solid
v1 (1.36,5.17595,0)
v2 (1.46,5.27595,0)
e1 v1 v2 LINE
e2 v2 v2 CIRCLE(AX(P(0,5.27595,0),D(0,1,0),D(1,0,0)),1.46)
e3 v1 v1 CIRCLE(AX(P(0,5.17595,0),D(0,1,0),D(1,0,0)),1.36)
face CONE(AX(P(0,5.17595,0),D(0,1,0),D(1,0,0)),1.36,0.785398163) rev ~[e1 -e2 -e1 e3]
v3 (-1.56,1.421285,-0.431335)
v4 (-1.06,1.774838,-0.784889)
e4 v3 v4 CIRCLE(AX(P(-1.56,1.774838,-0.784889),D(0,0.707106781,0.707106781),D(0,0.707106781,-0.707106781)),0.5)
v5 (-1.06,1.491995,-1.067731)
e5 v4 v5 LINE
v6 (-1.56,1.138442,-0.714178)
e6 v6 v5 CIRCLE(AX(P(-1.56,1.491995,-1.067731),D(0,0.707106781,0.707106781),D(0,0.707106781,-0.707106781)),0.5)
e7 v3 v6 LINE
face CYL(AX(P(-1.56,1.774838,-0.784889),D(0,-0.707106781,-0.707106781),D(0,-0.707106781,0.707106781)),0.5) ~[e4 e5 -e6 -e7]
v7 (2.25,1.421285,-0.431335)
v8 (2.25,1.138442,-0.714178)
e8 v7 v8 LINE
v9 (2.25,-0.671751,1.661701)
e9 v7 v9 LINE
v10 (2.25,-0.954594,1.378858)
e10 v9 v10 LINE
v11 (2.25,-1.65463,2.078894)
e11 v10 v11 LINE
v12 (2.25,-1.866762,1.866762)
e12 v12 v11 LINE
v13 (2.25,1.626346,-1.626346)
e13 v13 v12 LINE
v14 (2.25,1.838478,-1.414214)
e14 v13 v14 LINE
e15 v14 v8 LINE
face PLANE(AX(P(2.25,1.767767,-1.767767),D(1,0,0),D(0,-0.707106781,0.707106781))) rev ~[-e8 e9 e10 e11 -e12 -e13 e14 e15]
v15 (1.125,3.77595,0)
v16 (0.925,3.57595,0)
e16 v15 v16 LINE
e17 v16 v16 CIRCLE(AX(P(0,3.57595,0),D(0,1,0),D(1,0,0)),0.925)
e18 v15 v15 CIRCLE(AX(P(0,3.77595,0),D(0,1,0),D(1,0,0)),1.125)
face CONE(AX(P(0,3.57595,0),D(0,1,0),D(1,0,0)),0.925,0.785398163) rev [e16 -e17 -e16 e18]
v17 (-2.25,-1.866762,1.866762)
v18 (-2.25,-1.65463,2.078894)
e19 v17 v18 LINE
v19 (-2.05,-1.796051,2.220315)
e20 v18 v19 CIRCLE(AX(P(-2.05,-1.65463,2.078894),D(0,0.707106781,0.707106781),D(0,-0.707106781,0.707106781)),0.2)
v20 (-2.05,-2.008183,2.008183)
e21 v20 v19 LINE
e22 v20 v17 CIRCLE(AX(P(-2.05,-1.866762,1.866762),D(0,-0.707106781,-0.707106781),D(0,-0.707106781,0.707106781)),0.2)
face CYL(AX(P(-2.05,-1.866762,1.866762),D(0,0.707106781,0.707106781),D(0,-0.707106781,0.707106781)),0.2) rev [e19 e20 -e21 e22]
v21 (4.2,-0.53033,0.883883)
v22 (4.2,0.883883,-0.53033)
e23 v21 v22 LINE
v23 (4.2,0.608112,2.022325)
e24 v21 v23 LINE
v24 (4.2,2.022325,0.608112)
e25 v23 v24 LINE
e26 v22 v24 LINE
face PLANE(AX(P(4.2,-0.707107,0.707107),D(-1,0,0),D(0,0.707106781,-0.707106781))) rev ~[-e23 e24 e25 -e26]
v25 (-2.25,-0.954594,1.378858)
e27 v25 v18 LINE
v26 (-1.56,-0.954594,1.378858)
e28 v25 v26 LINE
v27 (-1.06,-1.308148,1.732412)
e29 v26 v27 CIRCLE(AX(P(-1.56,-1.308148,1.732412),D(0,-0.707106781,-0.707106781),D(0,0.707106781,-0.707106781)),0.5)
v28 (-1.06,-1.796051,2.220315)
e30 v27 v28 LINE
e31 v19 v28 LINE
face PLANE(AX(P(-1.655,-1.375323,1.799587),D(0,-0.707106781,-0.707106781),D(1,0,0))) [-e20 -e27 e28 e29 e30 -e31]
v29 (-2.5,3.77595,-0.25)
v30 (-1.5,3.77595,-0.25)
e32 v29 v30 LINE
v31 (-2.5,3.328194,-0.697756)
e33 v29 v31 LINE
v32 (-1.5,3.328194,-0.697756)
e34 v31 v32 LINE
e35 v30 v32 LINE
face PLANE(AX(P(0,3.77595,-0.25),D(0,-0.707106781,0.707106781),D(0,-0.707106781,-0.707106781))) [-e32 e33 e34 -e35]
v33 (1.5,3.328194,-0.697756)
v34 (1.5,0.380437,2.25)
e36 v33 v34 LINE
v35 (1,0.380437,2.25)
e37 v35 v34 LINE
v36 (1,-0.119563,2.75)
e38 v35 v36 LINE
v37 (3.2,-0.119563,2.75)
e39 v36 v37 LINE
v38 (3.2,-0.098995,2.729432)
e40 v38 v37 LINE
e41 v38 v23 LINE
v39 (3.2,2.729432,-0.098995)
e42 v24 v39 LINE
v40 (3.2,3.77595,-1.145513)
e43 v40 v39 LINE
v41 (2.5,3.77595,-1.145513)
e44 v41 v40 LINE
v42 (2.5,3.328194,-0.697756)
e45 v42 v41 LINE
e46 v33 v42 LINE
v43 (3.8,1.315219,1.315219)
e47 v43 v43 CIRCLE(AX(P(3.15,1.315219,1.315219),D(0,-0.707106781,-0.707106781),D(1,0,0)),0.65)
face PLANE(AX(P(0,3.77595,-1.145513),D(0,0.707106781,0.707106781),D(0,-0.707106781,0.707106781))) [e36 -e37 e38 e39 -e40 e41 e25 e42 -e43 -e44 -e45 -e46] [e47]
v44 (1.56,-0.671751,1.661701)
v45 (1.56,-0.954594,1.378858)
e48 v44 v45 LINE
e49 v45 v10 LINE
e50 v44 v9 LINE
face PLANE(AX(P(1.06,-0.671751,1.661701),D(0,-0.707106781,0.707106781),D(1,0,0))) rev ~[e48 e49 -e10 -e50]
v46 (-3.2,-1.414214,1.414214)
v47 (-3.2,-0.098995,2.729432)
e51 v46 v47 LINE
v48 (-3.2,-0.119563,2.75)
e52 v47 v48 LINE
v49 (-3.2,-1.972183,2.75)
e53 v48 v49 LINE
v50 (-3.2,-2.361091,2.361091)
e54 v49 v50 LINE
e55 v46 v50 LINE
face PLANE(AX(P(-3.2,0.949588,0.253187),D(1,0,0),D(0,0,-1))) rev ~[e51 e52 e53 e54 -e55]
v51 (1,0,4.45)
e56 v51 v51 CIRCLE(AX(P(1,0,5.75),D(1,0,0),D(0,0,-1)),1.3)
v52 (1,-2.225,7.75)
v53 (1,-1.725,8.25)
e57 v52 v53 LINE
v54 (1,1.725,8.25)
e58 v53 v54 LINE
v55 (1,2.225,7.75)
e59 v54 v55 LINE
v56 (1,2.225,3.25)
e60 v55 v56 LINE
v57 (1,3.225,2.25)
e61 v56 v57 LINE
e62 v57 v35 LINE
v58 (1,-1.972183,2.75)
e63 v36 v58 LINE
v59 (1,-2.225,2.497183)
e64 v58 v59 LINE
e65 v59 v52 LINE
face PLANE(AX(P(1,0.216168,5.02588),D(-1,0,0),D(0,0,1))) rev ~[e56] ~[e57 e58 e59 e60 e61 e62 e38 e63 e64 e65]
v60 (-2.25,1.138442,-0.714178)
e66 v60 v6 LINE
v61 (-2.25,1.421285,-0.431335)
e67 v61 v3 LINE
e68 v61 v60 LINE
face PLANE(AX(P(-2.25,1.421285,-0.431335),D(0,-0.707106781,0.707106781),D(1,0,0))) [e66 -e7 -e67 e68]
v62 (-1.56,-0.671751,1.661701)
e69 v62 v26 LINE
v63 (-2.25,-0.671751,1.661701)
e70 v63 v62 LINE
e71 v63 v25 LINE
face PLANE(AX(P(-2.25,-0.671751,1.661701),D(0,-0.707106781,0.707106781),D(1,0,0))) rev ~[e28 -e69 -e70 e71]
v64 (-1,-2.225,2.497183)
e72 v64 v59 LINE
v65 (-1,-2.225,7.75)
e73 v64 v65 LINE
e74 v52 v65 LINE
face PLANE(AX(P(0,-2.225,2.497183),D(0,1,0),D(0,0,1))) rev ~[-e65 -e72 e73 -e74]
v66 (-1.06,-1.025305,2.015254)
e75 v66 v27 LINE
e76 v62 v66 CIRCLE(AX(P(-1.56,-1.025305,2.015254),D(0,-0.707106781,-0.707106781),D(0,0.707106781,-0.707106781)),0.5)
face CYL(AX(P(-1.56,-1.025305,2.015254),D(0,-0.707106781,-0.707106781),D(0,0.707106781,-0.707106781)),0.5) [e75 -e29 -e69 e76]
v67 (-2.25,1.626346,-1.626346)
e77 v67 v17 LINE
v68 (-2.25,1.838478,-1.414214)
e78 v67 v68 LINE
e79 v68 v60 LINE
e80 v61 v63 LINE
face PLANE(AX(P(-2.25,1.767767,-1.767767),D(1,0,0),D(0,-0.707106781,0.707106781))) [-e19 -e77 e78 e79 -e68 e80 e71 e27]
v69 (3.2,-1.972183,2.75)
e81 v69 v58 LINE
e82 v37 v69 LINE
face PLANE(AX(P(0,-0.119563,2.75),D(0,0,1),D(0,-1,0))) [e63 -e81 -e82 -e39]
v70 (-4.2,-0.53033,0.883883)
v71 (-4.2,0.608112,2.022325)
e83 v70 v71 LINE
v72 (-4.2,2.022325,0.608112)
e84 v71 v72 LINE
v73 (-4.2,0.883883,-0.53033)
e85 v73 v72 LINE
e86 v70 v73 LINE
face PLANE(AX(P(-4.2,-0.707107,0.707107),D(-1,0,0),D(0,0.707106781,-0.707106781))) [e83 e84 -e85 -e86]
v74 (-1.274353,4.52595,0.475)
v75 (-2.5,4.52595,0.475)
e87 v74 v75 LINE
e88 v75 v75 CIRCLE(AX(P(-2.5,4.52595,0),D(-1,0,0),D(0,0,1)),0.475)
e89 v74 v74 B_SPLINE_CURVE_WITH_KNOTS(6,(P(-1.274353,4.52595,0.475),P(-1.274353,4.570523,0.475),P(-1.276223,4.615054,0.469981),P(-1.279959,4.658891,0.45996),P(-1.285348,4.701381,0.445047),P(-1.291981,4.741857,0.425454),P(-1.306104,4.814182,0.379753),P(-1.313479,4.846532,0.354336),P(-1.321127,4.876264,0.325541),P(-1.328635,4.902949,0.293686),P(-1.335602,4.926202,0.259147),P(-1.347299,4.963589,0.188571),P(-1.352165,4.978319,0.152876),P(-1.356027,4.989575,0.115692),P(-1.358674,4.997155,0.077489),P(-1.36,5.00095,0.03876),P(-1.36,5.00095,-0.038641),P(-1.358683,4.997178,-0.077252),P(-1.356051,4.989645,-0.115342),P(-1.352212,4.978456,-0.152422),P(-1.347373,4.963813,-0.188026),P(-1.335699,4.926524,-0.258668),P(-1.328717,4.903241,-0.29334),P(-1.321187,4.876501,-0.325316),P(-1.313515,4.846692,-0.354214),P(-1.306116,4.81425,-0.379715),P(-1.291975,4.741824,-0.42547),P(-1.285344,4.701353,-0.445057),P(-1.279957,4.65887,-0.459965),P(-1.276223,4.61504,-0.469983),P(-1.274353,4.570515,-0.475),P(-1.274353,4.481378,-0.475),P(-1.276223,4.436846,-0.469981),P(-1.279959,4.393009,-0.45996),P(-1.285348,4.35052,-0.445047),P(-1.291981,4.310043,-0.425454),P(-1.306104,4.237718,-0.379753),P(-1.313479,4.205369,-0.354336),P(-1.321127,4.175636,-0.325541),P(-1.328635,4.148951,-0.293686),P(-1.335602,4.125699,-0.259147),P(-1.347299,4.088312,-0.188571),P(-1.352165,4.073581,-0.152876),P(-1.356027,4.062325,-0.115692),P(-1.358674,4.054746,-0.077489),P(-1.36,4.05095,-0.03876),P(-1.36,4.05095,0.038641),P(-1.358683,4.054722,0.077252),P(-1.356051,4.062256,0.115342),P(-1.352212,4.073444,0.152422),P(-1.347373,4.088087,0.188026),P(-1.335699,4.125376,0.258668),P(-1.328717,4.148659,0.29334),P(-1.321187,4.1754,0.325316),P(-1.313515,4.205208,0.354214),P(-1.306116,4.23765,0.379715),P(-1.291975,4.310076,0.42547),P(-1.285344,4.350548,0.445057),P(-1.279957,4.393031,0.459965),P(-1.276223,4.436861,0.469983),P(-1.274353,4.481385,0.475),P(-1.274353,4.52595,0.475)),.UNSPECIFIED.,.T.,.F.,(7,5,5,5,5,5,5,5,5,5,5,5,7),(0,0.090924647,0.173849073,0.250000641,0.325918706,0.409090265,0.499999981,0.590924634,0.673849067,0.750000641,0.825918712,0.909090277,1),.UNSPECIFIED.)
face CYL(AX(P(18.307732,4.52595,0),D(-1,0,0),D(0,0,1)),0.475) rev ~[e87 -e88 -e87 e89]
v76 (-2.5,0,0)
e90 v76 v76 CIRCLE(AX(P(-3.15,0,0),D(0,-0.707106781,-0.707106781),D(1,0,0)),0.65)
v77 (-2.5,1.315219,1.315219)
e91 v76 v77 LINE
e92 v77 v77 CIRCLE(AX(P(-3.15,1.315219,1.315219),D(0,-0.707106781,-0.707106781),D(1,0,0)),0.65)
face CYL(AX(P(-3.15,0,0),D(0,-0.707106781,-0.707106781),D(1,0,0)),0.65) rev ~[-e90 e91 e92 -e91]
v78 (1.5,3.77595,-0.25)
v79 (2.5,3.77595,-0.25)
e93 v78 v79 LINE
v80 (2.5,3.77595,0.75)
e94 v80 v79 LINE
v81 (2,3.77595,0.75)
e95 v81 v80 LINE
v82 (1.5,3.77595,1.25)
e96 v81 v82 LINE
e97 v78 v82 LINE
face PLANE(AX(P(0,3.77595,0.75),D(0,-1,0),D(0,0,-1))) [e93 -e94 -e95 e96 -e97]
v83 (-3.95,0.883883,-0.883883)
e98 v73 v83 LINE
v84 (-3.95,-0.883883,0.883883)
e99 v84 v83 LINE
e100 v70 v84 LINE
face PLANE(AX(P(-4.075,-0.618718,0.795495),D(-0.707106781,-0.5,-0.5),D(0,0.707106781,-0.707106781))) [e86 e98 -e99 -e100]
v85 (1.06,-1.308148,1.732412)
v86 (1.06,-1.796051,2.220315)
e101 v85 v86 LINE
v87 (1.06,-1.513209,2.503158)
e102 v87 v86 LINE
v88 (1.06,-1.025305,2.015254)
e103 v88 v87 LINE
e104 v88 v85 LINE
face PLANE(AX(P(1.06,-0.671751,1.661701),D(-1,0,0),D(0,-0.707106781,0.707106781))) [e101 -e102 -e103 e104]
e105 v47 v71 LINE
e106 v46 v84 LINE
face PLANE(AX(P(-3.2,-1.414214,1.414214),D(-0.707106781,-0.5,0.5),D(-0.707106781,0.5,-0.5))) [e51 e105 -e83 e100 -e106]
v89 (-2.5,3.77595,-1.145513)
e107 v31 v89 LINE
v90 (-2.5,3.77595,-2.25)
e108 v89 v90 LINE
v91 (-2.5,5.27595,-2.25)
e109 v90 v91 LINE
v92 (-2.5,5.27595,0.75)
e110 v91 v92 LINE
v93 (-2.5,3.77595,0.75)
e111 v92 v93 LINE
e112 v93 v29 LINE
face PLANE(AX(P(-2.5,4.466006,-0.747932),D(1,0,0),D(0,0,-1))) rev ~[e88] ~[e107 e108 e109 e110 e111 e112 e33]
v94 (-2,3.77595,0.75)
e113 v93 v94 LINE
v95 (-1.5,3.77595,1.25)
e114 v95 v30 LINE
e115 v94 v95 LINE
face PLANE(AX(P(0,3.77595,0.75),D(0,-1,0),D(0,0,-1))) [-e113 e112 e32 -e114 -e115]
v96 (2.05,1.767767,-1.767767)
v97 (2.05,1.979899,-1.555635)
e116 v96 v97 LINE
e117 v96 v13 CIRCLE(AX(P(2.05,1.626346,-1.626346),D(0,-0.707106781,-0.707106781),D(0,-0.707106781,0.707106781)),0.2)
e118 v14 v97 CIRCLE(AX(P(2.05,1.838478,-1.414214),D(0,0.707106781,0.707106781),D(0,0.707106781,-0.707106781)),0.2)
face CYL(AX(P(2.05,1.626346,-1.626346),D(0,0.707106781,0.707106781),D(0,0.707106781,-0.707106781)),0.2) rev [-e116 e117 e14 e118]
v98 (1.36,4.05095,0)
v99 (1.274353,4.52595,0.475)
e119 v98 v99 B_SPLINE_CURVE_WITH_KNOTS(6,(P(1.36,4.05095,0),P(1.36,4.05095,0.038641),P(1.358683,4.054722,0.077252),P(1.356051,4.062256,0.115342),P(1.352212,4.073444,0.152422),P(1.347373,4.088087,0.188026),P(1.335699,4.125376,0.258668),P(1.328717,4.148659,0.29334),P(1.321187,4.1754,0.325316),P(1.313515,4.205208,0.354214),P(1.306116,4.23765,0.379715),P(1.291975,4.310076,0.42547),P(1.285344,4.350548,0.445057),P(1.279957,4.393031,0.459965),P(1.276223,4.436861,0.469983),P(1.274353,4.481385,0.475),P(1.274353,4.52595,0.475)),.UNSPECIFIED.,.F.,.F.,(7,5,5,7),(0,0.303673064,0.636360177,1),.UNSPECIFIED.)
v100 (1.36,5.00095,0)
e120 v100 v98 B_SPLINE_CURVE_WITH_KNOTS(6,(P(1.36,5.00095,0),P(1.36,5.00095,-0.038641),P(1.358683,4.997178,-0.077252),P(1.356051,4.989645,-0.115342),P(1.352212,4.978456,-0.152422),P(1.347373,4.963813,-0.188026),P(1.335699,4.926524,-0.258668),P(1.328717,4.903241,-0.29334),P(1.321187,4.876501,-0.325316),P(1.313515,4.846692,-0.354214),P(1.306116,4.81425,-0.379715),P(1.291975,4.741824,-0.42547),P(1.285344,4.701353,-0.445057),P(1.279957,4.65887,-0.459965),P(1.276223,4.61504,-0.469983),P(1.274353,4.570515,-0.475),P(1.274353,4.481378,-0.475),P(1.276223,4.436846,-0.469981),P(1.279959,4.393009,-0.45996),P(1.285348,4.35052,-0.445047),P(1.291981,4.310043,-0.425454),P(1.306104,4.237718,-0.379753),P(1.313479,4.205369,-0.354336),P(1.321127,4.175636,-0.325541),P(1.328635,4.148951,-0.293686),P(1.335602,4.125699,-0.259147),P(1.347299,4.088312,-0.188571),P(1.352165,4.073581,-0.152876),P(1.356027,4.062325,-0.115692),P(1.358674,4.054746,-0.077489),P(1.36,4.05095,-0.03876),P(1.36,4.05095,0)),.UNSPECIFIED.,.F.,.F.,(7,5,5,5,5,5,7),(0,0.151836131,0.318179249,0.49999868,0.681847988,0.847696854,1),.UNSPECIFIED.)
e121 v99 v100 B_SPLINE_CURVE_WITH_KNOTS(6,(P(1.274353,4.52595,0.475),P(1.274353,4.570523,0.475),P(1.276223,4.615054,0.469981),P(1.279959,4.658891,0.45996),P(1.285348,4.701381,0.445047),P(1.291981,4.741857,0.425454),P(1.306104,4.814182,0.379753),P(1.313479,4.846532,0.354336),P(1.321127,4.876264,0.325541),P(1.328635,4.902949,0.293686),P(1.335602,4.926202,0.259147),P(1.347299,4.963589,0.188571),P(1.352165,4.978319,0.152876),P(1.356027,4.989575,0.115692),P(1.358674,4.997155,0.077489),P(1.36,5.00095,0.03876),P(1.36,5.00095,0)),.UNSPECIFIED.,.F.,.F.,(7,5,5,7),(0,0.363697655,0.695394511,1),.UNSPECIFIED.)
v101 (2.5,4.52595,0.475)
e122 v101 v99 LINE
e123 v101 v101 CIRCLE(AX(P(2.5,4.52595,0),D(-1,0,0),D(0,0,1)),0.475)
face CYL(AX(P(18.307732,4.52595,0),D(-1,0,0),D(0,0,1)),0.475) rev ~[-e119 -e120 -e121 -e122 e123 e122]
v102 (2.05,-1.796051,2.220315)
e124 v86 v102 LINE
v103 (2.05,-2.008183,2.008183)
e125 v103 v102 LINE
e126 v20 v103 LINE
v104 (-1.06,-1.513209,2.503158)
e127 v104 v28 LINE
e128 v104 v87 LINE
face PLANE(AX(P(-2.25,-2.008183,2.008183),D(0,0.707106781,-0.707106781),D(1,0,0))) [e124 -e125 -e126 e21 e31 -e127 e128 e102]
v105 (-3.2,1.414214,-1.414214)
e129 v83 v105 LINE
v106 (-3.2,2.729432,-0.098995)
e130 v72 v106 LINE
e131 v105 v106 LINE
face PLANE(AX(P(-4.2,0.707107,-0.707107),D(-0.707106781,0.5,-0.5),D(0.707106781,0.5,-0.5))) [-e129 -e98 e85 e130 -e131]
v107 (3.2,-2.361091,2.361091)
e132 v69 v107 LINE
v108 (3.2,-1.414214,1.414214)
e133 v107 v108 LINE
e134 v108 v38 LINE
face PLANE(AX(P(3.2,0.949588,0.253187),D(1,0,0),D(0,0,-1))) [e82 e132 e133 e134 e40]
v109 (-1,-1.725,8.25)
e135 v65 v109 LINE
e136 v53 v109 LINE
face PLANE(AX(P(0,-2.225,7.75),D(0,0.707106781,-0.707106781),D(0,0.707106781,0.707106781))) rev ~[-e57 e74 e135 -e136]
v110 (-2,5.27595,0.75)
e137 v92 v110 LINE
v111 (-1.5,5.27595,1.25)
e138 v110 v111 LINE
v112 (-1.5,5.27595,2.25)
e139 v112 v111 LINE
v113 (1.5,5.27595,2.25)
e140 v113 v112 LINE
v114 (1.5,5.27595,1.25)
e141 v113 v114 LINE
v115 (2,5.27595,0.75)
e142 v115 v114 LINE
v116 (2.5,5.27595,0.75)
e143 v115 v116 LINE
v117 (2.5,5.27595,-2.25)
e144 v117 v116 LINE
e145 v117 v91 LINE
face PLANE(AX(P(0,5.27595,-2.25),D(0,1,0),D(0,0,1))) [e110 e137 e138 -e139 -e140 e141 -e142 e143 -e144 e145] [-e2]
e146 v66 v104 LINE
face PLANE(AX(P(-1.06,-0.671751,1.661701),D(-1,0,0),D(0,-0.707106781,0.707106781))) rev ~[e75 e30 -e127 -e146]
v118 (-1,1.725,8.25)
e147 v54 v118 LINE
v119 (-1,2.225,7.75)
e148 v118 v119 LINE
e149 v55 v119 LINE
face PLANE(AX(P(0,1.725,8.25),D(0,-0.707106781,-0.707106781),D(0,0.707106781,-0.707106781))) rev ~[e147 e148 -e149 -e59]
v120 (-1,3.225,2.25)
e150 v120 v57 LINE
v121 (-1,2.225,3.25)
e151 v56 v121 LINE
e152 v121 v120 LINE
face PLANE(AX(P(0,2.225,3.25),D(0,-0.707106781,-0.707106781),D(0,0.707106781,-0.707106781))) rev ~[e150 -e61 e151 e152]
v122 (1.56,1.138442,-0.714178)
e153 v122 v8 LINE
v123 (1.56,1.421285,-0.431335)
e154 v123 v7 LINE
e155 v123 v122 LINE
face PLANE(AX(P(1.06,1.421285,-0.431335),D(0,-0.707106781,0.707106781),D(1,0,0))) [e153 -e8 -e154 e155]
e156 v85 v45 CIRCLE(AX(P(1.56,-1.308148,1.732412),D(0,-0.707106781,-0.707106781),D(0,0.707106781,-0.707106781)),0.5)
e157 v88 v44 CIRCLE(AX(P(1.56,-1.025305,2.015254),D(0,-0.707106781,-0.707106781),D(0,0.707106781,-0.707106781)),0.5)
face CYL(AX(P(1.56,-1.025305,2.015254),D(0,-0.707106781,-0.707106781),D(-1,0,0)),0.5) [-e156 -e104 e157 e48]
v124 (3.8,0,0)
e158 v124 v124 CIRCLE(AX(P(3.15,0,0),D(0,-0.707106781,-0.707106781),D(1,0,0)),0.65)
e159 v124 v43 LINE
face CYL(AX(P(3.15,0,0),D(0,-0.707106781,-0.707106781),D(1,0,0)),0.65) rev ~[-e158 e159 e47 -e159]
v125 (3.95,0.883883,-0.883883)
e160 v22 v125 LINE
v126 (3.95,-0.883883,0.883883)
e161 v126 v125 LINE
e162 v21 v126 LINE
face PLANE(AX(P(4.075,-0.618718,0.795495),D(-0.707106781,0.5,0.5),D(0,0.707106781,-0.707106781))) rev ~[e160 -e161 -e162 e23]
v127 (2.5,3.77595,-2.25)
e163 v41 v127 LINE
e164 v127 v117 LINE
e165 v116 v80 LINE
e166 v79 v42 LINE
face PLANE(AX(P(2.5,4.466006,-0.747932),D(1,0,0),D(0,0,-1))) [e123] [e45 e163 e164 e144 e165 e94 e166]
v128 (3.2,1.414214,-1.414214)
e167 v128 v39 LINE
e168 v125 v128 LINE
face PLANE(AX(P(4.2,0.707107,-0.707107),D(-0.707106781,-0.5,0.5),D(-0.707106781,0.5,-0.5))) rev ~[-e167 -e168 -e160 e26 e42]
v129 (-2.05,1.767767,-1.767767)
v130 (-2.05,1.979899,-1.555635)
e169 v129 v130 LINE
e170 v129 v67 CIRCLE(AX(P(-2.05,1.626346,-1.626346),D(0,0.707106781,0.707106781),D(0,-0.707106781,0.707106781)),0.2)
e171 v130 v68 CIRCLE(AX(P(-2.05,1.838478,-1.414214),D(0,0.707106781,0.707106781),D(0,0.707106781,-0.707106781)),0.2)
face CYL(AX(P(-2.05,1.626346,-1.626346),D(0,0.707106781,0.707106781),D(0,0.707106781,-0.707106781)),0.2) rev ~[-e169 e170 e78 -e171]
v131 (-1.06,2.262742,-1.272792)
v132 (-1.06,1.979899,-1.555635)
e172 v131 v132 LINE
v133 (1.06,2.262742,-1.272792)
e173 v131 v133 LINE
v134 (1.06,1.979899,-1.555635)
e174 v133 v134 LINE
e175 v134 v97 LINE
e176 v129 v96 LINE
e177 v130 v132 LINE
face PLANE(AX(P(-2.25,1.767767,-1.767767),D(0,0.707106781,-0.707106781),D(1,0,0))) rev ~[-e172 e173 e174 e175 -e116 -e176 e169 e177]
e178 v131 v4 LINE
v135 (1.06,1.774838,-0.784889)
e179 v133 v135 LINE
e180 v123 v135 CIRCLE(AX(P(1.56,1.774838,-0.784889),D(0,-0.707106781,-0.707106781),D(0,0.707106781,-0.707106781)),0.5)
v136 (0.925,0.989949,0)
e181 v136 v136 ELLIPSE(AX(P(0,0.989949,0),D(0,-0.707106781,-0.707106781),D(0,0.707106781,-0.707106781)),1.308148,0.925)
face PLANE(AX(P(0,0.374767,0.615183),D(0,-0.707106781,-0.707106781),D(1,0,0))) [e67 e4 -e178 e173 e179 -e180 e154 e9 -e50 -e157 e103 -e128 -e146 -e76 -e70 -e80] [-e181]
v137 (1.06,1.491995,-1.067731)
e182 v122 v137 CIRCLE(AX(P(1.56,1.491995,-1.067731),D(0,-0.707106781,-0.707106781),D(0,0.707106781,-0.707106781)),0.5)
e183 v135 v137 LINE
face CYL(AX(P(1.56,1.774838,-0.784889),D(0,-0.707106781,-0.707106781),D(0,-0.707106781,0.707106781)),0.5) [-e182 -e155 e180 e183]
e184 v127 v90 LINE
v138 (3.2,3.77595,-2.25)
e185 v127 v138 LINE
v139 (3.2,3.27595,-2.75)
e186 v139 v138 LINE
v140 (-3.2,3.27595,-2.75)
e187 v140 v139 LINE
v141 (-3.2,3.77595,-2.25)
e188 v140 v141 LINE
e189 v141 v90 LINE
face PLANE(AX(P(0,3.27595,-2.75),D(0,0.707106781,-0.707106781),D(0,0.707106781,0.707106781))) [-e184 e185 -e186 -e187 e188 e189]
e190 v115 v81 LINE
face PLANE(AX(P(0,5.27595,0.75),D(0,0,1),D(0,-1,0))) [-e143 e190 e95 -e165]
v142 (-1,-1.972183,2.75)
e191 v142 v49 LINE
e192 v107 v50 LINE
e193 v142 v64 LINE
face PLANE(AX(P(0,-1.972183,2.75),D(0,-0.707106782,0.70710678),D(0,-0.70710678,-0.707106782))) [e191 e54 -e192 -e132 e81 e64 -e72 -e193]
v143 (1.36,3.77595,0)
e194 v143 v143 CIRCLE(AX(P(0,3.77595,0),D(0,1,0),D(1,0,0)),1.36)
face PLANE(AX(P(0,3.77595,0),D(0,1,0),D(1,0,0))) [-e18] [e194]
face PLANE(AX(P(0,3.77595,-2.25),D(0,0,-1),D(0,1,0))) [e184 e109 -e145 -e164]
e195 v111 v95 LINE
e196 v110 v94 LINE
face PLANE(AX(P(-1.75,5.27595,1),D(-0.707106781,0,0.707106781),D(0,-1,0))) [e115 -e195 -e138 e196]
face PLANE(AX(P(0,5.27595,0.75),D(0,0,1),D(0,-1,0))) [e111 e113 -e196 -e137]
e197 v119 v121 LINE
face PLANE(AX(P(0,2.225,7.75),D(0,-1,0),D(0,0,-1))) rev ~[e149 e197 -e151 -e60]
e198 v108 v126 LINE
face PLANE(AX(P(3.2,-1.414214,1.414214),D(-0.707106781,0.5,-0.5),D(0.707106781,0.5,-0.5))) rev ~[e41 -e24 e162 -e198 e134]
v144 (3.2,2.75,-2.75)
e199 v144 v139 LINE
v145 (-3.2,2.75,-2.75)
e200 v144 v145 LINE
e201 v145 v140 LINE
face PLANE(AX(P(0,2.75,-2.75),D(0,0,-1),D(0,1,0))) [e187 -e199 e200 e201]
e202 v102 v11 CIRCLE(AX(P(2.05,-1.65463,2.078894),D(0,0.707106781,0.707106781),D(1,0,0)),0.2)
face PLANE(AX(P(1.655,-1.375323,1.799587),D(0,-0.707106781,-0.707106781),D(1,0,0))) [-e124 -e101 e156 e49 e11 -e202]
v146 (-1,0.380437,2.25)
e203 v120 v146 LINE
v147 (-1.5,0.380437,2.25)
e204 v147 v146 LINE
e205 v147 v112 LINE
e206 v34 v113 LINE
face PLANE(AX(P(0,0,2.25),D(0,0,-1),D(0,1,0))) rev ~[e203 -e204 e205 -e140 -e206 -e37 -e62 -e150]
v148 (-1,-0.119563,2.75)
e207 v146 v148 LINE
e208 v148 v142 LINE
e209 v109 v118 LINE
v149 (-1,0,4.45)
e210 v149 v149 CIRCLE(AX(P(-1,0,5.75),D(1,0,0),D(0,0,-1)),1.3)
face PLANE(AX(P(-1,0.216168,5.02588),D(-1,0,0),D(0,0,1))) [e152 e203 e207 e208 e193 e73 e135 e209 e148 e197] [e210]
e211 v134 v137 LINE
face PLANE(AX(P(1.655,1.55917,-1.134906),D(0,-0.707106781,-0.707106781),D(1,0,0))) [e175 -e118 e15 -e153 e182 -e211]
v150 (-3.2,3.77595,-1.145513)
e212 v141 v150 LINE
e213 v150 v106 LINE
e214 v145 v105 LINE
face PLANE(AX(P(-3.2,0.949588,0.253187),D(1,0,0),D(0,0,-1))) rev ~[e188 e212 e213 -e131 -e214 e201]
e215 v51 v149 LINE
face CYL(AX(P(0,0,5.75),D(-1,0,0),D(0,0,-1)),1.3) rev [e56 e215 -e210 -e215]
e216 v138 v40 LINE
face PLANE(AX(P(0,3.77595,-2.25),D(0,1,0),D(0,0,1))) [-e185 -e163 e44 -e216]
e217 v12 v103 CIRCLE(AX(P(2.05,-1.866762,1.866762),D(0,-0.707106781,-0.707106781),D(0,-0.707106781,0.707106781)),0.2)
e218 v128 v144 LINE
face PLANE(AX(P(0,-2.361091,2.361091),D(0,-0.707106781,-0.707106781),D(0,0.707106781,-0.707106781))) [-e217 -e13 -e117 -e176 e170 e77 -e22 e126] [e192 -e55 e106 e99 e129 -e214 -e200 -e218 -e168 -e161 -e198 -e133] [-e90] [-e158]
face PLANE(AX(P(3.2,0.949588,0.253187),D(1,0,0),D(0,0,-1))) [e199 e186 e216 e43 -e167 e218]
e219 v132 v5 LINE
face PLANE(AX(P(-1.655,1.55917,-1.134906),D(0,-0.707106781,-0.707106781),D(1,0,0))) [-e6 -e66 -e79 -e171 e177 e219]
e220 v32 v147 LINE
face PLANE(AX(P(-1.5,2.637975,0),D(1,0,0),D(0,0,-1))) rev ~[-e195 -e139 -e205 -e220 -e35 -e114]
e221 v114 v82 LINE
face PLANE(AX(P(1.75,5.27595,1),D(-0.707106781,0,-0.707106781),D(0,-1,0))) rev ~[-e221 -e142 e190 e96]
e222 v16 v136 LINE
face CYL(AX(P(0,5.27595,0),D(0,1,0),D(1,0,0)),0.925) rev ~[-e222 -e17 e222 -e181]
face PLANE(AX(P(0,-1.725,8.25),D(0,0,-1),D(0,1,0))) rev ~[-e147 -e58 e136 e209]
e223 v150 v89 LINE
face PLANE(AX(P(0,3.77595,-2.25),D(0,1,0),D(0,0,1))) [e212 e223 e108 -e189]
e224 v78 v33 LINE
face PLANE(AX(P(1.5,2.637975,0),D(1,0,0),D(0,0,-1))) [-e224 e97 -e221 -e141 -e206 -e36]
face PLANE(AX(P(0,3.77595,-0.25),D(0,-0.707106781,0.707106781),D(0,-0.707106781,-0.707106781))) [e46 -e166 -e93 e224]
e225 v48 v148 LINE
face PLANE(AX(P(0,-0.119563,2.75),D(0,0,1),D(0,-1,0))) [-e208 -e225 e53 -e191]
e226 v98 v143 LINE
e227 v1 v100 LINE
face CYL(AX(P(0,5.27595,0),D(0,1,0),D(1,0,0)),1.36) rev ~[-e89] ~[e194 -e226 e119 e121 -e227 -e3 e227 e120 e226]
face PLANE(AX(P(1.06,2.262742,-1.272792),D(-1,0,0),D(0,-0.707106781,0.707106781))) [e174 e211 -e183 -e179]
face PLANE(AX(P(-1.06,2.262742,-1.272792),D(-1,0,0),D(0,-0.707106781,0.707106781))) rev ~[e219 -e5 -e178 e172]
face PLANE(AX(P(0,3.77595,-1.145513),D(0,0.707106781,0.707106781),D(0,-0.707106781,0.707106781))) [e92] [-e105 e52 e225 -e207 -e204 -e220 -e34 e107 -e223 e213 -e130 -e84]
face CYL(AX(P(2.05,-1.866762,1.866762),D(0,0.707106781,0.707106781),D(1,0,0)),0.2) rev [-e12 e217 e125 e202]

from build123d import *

# Parameters (mm, degrees)
SKETCH2_W                = 4.5
SKETCH2_H                = 5.27595021
BOSS_EXTRUDE1_DEPTH      = 1.5
BOSS_EXTRUDE2_DEPTH      = 3.2
CUT_EXTRUDE1_DEPTH       = 7.4
SKETCH5_R                = 1.3
BOSS_EXTRUDE3_DEPTH      = 1
BOSS_EXTRUDE4_DEPTH      = 1.86
SKETCH7_R                = 0.65
CUT_EXTRUDE2_DEPTH       = 10.564291115
SKETCH8_W                = 4.5
SKETCH8_H                = 5.34
CUT_EXTRUDE3_DEPTH       = 0.7
FILLET1_R                = 0.2
SKETCH9_W                = 1.19
SKETCH9_H                = 1.19
BOSS_EXTRUDE5_DEPTH      = 0.4
FILLET2_R                = 0.5
BOSS_EXTRUDE6_DEPTH      = 2.5
SKETCH10_R               = 0.925
CUT_EXTRUDE4_DEPTH       = 1
CUT_EXTRUDE4_DEPTH_BACK  = 8.63704148
M1_2X0_25_TAPPED_HOLE1_D = 0.95
CHAMFER1_SIZE            = 0.5
SKETCH14_R               = 1.36
CUT_EXTRUDE5_DEPTH       = 1.5
CHAMFER2_SIZE            = 0.2
CHAMFER3_SIZE            = 0.1
CHAMFER4_SIZE            = 0.25


with BuildPart() as part:
    # Sketch2 → Boss-Extrude1 (new body, symmetric)
    with BuildSketch(Plane(origin=(0, 0, 0), x_dir=(0, 0, -1), z_dir=(1, 0, 0))):
        with Locations((0, 2.637975105)):
            Rectangle(SKETCH2_W, SKETCH2_H)
    extrude(amount=BOSS_EXTRUDE1_DEPTH, both=True)

    # Sketch3 → Boss-Extrude2 (add, symmetric)
    with BuildSketch(Plane(origin=(0, 0, 0), x_dir=(0, 0, -1), z_dir=(1, 0, 0))):
        Polygon((0, 0), (2.75, 2.75), (2.75, 3.27595021), (2.25, 3.77595021), (1.145512984, 3.77595021), (-2.75, -0.119562774), (-2.75, -1.972182541), (-2.36109127, -2.36109127), align=None)
    extrude(amount=BOSS_EXTRUDE2_DEPTH, both=True)

    # Sketch4 → Cut-Extrude1 (cut, through all)
    with BuildSketch(Plane(origin=(3.2, 0, 0), x_dir=(0, 0, -1), z_dir=(1, 0, 0))):
        Polygon((2.25, 2.25), (0, 0), (2.25, 0), align=None)
    extrude(amount=-CUT_EXTRUDE1_DEPTH, mode=Mode.SUBTRACT)

    # Sketch5 → Boss-Extrude3 (add, symmetric)
    with BuildSketch(Plane(origin=(0, 0, 0), x_dir=(0, 0, -1), z_dir=(1, 0, 0))):
        Polygon((-2.497182541, -2.225), (-7.75, -2.225), (-8.25, -1.725), (-8.25, 1.725), (-7.75, 2.225), (-3.25, 2.225), (-2.25, 3.225), (-2.25, 0.380437226), (-2.75, -0.119562774), (-2.75, -1.972182541), align=None)
        with Locations((-5.75, 0)):
            Circle(SKETCH5_R, mode=Mode.SUBTRACT)
    extrude(amount=BOSS_EXTRUDE3_DEPTH, both=True)

    # Sketch6 → Boss-Extrude4 (add)
    with BuildSketch(Plane(origin=(0, 0, 0), x_dir=(1, 0, 0), z_dir=(0, -0.707106781, -0.707106781))):
        Polygon((-3.2, 2), (-4.2, 1), (-4.2, -1), (-3.2, -2), align=None)
        Polygon((3.2, -2), (3.2, 2), (4.2, 1), (4.2, -1), align=None)
    extrude(amount=-BOSS_EXTRUDE4_DEPTH)

    # Sketch7 → Cut-Extrude2 (cut, through all)
    with BuildSketch(Plane(origin=(0, 0, 0), x_dir=(1, 0, 0), z_dir=(0, -0.707106781, -0.707106781))):
        with Locations((-3.15, 0)):
            Circle(SKETCH7_R)
        with Locations((3.15, 0)):
            Circle(SKETCH7_R)
    extrude(amount=-CUT_EXTRUDE2_DEPTH, mode=Mode.SUBTRACT)

    # Sketch8 → Cut-Extrude3 (cut)
    with BuildSketch(Plane(origin=(0, 0, 0), x_dir=(1, 0, 0), z_dir=(0, -0.707106781, -0.707106781))):
        with Locations((0, 0.17)):
            Rectangle(SKETCH8_W, SKETCH8_H)
    extrude(amount=-CUT_EXTRUDE3_DEPTH, mode=Mode.SUBTRACT)

    # Fillet1
    fillet1_edges = [part.edges().sort_by_distance(p)[0] for p in [
        (-2.25, 2.015254326, -1.52027958),
        (-2.25, -1.760695885, 2.255670632),
        (2.25, -1.760695885, 2.255670632),
        (2.25, 2.015254326, -1.52027958),
    ]]
    fillet(fillet1_edges, radius=FILLET1_R)

    # Sketch9 → Boss-Extrude5 (add)
    with BuildSketch(Plane(origin=(0, 0.494974747, 0.494974747), x_dir=(1, 0, 0), z_dir=(0, -0.707106781, -0.707106781))):
        with Locations((-1.655, 2.245)):
            Rectangle(SKETCH9_W, SKETCH9_H)
        with Locations((1.655, 2.245)):
            Rectangle(SKETCH9_W, SKETCH9_H)
        with Locations((1.655, -1.905)):
            Rectangle(SKETCH9_W, SKETCH9_H)
        with Locations((-1.655, -1.905)):
            Rectangle(SKETCH9_W, SKETCH9_H)
    extrude(amount=BOSS_EXTRUDE5_DEPTH)

    # Fillet2
    fillet2_edges = [part.edges().sort_by_distance(p)[0] for p in [
        (-1.06, -0.813172798, 1.52027958),
        (1.06, -0.813172798, 1.52027958),
        (1.06, 1.279863274, -0.572756493),
        (-1.06, 1.279863274, -0.572756493),
    ]]
    fillet(fillet2_edges, radius=FILLET2_R)

    # Sketch11 → Boss-Extrude6 (add, symmetric)
    with BuildSketch(Plane(origin=(0, 0, 0), x_dir=(0, 0, -1), z_dir=(1, 0, 0))):
        Polygon((2.25, 5.27595021), (-0.75, 5.27595021), (-0.75, 3.77595021), (0.25, 3.77595021), (0.697756492, 3.328193718), (1.145512984, 3.77595021), (2.25, 3.77595021), align=None)
    extrude(amount=BOSS_EXTRUDE6_DEPTH, both=True)

    # Sketch10 → Cut-Extrude4 (cut, two sides)
    with BuildSketch(Plane(origin=(0, 5.27595021, 0), x_dir=(1, 0, 0), z_dir=(0, 1, 0))) as cut_extrude4_sk:
        Circle(SKETCH10_R)
    extrude(amount=CUT_EXTRUDE4_DEPTH, mode=Mode.SUBTRACT)
    extrude(cut_extrude4_sk.sketch, amount=-CUT_EXTRUDE4_DEPTH_BACK, mode=Mode.SUBTRACT)

    # M1.2x0.25 Tapped Hole1 (through all)
    with Locations(Plane(origin=(2.5, 0, 0), x_dir=(0, 0, -1), z_dir=(1, 0, 0))):
        with Locations((0, 4.52595021)):
            Hole(M1_2X0_25_TAPPED_HOLE1_D / 2)

    # Chamfer1
    chamfer1_edges = [part.edges().sort_by_distance(p)[0] for p in [
        (1.5, 4.52595021, 0.75),
        (-1.5, 4.52595021, 0.75),
    ]]
    chamfer(chamfer1_edges, length=CHAMFER1_SIZE)

    # Sketch14 → Cut-Extrude5 (cut)
    with BuildSketch(Plane(origin=(0, 5.27595021, 0), x_dir=(1, 0, 0), z_dir=(0, 1, 0))):
        Circle(SKETCH14_R)
    extrude(amount=-CUT_EXTRUDE5_DEPTH, mode=Mode.SUBTRACT)

    # Chamfer2
    chamfer2_edges = [part.edges().sort_by_distance(p)[0] for p in [
        (-0.925, 3.77595021, 0),
    ]]
    chamfer(chamfer2_edges, length=CHAMFER2_SIZE)

    # Chamfer3
    chamfer3_edges = [part.edges().sort_by_distance(p)[0] for p in [
        (-1.36, 5.27595021, 0),
    ]]
    chamfer(chamfer3_edges, length=CHAMFER3_SIZE)

    # Chamfer4
    chamfer4_edges = [part.edges().sort_by_distance(p)[0] for p in [
        (4.2, 0, 0),
        (-4.2, 0, 0),
    ]]
    chamfer(chamfer4_edges, length=CHAMFER4_SIZE)


solid = part.part
